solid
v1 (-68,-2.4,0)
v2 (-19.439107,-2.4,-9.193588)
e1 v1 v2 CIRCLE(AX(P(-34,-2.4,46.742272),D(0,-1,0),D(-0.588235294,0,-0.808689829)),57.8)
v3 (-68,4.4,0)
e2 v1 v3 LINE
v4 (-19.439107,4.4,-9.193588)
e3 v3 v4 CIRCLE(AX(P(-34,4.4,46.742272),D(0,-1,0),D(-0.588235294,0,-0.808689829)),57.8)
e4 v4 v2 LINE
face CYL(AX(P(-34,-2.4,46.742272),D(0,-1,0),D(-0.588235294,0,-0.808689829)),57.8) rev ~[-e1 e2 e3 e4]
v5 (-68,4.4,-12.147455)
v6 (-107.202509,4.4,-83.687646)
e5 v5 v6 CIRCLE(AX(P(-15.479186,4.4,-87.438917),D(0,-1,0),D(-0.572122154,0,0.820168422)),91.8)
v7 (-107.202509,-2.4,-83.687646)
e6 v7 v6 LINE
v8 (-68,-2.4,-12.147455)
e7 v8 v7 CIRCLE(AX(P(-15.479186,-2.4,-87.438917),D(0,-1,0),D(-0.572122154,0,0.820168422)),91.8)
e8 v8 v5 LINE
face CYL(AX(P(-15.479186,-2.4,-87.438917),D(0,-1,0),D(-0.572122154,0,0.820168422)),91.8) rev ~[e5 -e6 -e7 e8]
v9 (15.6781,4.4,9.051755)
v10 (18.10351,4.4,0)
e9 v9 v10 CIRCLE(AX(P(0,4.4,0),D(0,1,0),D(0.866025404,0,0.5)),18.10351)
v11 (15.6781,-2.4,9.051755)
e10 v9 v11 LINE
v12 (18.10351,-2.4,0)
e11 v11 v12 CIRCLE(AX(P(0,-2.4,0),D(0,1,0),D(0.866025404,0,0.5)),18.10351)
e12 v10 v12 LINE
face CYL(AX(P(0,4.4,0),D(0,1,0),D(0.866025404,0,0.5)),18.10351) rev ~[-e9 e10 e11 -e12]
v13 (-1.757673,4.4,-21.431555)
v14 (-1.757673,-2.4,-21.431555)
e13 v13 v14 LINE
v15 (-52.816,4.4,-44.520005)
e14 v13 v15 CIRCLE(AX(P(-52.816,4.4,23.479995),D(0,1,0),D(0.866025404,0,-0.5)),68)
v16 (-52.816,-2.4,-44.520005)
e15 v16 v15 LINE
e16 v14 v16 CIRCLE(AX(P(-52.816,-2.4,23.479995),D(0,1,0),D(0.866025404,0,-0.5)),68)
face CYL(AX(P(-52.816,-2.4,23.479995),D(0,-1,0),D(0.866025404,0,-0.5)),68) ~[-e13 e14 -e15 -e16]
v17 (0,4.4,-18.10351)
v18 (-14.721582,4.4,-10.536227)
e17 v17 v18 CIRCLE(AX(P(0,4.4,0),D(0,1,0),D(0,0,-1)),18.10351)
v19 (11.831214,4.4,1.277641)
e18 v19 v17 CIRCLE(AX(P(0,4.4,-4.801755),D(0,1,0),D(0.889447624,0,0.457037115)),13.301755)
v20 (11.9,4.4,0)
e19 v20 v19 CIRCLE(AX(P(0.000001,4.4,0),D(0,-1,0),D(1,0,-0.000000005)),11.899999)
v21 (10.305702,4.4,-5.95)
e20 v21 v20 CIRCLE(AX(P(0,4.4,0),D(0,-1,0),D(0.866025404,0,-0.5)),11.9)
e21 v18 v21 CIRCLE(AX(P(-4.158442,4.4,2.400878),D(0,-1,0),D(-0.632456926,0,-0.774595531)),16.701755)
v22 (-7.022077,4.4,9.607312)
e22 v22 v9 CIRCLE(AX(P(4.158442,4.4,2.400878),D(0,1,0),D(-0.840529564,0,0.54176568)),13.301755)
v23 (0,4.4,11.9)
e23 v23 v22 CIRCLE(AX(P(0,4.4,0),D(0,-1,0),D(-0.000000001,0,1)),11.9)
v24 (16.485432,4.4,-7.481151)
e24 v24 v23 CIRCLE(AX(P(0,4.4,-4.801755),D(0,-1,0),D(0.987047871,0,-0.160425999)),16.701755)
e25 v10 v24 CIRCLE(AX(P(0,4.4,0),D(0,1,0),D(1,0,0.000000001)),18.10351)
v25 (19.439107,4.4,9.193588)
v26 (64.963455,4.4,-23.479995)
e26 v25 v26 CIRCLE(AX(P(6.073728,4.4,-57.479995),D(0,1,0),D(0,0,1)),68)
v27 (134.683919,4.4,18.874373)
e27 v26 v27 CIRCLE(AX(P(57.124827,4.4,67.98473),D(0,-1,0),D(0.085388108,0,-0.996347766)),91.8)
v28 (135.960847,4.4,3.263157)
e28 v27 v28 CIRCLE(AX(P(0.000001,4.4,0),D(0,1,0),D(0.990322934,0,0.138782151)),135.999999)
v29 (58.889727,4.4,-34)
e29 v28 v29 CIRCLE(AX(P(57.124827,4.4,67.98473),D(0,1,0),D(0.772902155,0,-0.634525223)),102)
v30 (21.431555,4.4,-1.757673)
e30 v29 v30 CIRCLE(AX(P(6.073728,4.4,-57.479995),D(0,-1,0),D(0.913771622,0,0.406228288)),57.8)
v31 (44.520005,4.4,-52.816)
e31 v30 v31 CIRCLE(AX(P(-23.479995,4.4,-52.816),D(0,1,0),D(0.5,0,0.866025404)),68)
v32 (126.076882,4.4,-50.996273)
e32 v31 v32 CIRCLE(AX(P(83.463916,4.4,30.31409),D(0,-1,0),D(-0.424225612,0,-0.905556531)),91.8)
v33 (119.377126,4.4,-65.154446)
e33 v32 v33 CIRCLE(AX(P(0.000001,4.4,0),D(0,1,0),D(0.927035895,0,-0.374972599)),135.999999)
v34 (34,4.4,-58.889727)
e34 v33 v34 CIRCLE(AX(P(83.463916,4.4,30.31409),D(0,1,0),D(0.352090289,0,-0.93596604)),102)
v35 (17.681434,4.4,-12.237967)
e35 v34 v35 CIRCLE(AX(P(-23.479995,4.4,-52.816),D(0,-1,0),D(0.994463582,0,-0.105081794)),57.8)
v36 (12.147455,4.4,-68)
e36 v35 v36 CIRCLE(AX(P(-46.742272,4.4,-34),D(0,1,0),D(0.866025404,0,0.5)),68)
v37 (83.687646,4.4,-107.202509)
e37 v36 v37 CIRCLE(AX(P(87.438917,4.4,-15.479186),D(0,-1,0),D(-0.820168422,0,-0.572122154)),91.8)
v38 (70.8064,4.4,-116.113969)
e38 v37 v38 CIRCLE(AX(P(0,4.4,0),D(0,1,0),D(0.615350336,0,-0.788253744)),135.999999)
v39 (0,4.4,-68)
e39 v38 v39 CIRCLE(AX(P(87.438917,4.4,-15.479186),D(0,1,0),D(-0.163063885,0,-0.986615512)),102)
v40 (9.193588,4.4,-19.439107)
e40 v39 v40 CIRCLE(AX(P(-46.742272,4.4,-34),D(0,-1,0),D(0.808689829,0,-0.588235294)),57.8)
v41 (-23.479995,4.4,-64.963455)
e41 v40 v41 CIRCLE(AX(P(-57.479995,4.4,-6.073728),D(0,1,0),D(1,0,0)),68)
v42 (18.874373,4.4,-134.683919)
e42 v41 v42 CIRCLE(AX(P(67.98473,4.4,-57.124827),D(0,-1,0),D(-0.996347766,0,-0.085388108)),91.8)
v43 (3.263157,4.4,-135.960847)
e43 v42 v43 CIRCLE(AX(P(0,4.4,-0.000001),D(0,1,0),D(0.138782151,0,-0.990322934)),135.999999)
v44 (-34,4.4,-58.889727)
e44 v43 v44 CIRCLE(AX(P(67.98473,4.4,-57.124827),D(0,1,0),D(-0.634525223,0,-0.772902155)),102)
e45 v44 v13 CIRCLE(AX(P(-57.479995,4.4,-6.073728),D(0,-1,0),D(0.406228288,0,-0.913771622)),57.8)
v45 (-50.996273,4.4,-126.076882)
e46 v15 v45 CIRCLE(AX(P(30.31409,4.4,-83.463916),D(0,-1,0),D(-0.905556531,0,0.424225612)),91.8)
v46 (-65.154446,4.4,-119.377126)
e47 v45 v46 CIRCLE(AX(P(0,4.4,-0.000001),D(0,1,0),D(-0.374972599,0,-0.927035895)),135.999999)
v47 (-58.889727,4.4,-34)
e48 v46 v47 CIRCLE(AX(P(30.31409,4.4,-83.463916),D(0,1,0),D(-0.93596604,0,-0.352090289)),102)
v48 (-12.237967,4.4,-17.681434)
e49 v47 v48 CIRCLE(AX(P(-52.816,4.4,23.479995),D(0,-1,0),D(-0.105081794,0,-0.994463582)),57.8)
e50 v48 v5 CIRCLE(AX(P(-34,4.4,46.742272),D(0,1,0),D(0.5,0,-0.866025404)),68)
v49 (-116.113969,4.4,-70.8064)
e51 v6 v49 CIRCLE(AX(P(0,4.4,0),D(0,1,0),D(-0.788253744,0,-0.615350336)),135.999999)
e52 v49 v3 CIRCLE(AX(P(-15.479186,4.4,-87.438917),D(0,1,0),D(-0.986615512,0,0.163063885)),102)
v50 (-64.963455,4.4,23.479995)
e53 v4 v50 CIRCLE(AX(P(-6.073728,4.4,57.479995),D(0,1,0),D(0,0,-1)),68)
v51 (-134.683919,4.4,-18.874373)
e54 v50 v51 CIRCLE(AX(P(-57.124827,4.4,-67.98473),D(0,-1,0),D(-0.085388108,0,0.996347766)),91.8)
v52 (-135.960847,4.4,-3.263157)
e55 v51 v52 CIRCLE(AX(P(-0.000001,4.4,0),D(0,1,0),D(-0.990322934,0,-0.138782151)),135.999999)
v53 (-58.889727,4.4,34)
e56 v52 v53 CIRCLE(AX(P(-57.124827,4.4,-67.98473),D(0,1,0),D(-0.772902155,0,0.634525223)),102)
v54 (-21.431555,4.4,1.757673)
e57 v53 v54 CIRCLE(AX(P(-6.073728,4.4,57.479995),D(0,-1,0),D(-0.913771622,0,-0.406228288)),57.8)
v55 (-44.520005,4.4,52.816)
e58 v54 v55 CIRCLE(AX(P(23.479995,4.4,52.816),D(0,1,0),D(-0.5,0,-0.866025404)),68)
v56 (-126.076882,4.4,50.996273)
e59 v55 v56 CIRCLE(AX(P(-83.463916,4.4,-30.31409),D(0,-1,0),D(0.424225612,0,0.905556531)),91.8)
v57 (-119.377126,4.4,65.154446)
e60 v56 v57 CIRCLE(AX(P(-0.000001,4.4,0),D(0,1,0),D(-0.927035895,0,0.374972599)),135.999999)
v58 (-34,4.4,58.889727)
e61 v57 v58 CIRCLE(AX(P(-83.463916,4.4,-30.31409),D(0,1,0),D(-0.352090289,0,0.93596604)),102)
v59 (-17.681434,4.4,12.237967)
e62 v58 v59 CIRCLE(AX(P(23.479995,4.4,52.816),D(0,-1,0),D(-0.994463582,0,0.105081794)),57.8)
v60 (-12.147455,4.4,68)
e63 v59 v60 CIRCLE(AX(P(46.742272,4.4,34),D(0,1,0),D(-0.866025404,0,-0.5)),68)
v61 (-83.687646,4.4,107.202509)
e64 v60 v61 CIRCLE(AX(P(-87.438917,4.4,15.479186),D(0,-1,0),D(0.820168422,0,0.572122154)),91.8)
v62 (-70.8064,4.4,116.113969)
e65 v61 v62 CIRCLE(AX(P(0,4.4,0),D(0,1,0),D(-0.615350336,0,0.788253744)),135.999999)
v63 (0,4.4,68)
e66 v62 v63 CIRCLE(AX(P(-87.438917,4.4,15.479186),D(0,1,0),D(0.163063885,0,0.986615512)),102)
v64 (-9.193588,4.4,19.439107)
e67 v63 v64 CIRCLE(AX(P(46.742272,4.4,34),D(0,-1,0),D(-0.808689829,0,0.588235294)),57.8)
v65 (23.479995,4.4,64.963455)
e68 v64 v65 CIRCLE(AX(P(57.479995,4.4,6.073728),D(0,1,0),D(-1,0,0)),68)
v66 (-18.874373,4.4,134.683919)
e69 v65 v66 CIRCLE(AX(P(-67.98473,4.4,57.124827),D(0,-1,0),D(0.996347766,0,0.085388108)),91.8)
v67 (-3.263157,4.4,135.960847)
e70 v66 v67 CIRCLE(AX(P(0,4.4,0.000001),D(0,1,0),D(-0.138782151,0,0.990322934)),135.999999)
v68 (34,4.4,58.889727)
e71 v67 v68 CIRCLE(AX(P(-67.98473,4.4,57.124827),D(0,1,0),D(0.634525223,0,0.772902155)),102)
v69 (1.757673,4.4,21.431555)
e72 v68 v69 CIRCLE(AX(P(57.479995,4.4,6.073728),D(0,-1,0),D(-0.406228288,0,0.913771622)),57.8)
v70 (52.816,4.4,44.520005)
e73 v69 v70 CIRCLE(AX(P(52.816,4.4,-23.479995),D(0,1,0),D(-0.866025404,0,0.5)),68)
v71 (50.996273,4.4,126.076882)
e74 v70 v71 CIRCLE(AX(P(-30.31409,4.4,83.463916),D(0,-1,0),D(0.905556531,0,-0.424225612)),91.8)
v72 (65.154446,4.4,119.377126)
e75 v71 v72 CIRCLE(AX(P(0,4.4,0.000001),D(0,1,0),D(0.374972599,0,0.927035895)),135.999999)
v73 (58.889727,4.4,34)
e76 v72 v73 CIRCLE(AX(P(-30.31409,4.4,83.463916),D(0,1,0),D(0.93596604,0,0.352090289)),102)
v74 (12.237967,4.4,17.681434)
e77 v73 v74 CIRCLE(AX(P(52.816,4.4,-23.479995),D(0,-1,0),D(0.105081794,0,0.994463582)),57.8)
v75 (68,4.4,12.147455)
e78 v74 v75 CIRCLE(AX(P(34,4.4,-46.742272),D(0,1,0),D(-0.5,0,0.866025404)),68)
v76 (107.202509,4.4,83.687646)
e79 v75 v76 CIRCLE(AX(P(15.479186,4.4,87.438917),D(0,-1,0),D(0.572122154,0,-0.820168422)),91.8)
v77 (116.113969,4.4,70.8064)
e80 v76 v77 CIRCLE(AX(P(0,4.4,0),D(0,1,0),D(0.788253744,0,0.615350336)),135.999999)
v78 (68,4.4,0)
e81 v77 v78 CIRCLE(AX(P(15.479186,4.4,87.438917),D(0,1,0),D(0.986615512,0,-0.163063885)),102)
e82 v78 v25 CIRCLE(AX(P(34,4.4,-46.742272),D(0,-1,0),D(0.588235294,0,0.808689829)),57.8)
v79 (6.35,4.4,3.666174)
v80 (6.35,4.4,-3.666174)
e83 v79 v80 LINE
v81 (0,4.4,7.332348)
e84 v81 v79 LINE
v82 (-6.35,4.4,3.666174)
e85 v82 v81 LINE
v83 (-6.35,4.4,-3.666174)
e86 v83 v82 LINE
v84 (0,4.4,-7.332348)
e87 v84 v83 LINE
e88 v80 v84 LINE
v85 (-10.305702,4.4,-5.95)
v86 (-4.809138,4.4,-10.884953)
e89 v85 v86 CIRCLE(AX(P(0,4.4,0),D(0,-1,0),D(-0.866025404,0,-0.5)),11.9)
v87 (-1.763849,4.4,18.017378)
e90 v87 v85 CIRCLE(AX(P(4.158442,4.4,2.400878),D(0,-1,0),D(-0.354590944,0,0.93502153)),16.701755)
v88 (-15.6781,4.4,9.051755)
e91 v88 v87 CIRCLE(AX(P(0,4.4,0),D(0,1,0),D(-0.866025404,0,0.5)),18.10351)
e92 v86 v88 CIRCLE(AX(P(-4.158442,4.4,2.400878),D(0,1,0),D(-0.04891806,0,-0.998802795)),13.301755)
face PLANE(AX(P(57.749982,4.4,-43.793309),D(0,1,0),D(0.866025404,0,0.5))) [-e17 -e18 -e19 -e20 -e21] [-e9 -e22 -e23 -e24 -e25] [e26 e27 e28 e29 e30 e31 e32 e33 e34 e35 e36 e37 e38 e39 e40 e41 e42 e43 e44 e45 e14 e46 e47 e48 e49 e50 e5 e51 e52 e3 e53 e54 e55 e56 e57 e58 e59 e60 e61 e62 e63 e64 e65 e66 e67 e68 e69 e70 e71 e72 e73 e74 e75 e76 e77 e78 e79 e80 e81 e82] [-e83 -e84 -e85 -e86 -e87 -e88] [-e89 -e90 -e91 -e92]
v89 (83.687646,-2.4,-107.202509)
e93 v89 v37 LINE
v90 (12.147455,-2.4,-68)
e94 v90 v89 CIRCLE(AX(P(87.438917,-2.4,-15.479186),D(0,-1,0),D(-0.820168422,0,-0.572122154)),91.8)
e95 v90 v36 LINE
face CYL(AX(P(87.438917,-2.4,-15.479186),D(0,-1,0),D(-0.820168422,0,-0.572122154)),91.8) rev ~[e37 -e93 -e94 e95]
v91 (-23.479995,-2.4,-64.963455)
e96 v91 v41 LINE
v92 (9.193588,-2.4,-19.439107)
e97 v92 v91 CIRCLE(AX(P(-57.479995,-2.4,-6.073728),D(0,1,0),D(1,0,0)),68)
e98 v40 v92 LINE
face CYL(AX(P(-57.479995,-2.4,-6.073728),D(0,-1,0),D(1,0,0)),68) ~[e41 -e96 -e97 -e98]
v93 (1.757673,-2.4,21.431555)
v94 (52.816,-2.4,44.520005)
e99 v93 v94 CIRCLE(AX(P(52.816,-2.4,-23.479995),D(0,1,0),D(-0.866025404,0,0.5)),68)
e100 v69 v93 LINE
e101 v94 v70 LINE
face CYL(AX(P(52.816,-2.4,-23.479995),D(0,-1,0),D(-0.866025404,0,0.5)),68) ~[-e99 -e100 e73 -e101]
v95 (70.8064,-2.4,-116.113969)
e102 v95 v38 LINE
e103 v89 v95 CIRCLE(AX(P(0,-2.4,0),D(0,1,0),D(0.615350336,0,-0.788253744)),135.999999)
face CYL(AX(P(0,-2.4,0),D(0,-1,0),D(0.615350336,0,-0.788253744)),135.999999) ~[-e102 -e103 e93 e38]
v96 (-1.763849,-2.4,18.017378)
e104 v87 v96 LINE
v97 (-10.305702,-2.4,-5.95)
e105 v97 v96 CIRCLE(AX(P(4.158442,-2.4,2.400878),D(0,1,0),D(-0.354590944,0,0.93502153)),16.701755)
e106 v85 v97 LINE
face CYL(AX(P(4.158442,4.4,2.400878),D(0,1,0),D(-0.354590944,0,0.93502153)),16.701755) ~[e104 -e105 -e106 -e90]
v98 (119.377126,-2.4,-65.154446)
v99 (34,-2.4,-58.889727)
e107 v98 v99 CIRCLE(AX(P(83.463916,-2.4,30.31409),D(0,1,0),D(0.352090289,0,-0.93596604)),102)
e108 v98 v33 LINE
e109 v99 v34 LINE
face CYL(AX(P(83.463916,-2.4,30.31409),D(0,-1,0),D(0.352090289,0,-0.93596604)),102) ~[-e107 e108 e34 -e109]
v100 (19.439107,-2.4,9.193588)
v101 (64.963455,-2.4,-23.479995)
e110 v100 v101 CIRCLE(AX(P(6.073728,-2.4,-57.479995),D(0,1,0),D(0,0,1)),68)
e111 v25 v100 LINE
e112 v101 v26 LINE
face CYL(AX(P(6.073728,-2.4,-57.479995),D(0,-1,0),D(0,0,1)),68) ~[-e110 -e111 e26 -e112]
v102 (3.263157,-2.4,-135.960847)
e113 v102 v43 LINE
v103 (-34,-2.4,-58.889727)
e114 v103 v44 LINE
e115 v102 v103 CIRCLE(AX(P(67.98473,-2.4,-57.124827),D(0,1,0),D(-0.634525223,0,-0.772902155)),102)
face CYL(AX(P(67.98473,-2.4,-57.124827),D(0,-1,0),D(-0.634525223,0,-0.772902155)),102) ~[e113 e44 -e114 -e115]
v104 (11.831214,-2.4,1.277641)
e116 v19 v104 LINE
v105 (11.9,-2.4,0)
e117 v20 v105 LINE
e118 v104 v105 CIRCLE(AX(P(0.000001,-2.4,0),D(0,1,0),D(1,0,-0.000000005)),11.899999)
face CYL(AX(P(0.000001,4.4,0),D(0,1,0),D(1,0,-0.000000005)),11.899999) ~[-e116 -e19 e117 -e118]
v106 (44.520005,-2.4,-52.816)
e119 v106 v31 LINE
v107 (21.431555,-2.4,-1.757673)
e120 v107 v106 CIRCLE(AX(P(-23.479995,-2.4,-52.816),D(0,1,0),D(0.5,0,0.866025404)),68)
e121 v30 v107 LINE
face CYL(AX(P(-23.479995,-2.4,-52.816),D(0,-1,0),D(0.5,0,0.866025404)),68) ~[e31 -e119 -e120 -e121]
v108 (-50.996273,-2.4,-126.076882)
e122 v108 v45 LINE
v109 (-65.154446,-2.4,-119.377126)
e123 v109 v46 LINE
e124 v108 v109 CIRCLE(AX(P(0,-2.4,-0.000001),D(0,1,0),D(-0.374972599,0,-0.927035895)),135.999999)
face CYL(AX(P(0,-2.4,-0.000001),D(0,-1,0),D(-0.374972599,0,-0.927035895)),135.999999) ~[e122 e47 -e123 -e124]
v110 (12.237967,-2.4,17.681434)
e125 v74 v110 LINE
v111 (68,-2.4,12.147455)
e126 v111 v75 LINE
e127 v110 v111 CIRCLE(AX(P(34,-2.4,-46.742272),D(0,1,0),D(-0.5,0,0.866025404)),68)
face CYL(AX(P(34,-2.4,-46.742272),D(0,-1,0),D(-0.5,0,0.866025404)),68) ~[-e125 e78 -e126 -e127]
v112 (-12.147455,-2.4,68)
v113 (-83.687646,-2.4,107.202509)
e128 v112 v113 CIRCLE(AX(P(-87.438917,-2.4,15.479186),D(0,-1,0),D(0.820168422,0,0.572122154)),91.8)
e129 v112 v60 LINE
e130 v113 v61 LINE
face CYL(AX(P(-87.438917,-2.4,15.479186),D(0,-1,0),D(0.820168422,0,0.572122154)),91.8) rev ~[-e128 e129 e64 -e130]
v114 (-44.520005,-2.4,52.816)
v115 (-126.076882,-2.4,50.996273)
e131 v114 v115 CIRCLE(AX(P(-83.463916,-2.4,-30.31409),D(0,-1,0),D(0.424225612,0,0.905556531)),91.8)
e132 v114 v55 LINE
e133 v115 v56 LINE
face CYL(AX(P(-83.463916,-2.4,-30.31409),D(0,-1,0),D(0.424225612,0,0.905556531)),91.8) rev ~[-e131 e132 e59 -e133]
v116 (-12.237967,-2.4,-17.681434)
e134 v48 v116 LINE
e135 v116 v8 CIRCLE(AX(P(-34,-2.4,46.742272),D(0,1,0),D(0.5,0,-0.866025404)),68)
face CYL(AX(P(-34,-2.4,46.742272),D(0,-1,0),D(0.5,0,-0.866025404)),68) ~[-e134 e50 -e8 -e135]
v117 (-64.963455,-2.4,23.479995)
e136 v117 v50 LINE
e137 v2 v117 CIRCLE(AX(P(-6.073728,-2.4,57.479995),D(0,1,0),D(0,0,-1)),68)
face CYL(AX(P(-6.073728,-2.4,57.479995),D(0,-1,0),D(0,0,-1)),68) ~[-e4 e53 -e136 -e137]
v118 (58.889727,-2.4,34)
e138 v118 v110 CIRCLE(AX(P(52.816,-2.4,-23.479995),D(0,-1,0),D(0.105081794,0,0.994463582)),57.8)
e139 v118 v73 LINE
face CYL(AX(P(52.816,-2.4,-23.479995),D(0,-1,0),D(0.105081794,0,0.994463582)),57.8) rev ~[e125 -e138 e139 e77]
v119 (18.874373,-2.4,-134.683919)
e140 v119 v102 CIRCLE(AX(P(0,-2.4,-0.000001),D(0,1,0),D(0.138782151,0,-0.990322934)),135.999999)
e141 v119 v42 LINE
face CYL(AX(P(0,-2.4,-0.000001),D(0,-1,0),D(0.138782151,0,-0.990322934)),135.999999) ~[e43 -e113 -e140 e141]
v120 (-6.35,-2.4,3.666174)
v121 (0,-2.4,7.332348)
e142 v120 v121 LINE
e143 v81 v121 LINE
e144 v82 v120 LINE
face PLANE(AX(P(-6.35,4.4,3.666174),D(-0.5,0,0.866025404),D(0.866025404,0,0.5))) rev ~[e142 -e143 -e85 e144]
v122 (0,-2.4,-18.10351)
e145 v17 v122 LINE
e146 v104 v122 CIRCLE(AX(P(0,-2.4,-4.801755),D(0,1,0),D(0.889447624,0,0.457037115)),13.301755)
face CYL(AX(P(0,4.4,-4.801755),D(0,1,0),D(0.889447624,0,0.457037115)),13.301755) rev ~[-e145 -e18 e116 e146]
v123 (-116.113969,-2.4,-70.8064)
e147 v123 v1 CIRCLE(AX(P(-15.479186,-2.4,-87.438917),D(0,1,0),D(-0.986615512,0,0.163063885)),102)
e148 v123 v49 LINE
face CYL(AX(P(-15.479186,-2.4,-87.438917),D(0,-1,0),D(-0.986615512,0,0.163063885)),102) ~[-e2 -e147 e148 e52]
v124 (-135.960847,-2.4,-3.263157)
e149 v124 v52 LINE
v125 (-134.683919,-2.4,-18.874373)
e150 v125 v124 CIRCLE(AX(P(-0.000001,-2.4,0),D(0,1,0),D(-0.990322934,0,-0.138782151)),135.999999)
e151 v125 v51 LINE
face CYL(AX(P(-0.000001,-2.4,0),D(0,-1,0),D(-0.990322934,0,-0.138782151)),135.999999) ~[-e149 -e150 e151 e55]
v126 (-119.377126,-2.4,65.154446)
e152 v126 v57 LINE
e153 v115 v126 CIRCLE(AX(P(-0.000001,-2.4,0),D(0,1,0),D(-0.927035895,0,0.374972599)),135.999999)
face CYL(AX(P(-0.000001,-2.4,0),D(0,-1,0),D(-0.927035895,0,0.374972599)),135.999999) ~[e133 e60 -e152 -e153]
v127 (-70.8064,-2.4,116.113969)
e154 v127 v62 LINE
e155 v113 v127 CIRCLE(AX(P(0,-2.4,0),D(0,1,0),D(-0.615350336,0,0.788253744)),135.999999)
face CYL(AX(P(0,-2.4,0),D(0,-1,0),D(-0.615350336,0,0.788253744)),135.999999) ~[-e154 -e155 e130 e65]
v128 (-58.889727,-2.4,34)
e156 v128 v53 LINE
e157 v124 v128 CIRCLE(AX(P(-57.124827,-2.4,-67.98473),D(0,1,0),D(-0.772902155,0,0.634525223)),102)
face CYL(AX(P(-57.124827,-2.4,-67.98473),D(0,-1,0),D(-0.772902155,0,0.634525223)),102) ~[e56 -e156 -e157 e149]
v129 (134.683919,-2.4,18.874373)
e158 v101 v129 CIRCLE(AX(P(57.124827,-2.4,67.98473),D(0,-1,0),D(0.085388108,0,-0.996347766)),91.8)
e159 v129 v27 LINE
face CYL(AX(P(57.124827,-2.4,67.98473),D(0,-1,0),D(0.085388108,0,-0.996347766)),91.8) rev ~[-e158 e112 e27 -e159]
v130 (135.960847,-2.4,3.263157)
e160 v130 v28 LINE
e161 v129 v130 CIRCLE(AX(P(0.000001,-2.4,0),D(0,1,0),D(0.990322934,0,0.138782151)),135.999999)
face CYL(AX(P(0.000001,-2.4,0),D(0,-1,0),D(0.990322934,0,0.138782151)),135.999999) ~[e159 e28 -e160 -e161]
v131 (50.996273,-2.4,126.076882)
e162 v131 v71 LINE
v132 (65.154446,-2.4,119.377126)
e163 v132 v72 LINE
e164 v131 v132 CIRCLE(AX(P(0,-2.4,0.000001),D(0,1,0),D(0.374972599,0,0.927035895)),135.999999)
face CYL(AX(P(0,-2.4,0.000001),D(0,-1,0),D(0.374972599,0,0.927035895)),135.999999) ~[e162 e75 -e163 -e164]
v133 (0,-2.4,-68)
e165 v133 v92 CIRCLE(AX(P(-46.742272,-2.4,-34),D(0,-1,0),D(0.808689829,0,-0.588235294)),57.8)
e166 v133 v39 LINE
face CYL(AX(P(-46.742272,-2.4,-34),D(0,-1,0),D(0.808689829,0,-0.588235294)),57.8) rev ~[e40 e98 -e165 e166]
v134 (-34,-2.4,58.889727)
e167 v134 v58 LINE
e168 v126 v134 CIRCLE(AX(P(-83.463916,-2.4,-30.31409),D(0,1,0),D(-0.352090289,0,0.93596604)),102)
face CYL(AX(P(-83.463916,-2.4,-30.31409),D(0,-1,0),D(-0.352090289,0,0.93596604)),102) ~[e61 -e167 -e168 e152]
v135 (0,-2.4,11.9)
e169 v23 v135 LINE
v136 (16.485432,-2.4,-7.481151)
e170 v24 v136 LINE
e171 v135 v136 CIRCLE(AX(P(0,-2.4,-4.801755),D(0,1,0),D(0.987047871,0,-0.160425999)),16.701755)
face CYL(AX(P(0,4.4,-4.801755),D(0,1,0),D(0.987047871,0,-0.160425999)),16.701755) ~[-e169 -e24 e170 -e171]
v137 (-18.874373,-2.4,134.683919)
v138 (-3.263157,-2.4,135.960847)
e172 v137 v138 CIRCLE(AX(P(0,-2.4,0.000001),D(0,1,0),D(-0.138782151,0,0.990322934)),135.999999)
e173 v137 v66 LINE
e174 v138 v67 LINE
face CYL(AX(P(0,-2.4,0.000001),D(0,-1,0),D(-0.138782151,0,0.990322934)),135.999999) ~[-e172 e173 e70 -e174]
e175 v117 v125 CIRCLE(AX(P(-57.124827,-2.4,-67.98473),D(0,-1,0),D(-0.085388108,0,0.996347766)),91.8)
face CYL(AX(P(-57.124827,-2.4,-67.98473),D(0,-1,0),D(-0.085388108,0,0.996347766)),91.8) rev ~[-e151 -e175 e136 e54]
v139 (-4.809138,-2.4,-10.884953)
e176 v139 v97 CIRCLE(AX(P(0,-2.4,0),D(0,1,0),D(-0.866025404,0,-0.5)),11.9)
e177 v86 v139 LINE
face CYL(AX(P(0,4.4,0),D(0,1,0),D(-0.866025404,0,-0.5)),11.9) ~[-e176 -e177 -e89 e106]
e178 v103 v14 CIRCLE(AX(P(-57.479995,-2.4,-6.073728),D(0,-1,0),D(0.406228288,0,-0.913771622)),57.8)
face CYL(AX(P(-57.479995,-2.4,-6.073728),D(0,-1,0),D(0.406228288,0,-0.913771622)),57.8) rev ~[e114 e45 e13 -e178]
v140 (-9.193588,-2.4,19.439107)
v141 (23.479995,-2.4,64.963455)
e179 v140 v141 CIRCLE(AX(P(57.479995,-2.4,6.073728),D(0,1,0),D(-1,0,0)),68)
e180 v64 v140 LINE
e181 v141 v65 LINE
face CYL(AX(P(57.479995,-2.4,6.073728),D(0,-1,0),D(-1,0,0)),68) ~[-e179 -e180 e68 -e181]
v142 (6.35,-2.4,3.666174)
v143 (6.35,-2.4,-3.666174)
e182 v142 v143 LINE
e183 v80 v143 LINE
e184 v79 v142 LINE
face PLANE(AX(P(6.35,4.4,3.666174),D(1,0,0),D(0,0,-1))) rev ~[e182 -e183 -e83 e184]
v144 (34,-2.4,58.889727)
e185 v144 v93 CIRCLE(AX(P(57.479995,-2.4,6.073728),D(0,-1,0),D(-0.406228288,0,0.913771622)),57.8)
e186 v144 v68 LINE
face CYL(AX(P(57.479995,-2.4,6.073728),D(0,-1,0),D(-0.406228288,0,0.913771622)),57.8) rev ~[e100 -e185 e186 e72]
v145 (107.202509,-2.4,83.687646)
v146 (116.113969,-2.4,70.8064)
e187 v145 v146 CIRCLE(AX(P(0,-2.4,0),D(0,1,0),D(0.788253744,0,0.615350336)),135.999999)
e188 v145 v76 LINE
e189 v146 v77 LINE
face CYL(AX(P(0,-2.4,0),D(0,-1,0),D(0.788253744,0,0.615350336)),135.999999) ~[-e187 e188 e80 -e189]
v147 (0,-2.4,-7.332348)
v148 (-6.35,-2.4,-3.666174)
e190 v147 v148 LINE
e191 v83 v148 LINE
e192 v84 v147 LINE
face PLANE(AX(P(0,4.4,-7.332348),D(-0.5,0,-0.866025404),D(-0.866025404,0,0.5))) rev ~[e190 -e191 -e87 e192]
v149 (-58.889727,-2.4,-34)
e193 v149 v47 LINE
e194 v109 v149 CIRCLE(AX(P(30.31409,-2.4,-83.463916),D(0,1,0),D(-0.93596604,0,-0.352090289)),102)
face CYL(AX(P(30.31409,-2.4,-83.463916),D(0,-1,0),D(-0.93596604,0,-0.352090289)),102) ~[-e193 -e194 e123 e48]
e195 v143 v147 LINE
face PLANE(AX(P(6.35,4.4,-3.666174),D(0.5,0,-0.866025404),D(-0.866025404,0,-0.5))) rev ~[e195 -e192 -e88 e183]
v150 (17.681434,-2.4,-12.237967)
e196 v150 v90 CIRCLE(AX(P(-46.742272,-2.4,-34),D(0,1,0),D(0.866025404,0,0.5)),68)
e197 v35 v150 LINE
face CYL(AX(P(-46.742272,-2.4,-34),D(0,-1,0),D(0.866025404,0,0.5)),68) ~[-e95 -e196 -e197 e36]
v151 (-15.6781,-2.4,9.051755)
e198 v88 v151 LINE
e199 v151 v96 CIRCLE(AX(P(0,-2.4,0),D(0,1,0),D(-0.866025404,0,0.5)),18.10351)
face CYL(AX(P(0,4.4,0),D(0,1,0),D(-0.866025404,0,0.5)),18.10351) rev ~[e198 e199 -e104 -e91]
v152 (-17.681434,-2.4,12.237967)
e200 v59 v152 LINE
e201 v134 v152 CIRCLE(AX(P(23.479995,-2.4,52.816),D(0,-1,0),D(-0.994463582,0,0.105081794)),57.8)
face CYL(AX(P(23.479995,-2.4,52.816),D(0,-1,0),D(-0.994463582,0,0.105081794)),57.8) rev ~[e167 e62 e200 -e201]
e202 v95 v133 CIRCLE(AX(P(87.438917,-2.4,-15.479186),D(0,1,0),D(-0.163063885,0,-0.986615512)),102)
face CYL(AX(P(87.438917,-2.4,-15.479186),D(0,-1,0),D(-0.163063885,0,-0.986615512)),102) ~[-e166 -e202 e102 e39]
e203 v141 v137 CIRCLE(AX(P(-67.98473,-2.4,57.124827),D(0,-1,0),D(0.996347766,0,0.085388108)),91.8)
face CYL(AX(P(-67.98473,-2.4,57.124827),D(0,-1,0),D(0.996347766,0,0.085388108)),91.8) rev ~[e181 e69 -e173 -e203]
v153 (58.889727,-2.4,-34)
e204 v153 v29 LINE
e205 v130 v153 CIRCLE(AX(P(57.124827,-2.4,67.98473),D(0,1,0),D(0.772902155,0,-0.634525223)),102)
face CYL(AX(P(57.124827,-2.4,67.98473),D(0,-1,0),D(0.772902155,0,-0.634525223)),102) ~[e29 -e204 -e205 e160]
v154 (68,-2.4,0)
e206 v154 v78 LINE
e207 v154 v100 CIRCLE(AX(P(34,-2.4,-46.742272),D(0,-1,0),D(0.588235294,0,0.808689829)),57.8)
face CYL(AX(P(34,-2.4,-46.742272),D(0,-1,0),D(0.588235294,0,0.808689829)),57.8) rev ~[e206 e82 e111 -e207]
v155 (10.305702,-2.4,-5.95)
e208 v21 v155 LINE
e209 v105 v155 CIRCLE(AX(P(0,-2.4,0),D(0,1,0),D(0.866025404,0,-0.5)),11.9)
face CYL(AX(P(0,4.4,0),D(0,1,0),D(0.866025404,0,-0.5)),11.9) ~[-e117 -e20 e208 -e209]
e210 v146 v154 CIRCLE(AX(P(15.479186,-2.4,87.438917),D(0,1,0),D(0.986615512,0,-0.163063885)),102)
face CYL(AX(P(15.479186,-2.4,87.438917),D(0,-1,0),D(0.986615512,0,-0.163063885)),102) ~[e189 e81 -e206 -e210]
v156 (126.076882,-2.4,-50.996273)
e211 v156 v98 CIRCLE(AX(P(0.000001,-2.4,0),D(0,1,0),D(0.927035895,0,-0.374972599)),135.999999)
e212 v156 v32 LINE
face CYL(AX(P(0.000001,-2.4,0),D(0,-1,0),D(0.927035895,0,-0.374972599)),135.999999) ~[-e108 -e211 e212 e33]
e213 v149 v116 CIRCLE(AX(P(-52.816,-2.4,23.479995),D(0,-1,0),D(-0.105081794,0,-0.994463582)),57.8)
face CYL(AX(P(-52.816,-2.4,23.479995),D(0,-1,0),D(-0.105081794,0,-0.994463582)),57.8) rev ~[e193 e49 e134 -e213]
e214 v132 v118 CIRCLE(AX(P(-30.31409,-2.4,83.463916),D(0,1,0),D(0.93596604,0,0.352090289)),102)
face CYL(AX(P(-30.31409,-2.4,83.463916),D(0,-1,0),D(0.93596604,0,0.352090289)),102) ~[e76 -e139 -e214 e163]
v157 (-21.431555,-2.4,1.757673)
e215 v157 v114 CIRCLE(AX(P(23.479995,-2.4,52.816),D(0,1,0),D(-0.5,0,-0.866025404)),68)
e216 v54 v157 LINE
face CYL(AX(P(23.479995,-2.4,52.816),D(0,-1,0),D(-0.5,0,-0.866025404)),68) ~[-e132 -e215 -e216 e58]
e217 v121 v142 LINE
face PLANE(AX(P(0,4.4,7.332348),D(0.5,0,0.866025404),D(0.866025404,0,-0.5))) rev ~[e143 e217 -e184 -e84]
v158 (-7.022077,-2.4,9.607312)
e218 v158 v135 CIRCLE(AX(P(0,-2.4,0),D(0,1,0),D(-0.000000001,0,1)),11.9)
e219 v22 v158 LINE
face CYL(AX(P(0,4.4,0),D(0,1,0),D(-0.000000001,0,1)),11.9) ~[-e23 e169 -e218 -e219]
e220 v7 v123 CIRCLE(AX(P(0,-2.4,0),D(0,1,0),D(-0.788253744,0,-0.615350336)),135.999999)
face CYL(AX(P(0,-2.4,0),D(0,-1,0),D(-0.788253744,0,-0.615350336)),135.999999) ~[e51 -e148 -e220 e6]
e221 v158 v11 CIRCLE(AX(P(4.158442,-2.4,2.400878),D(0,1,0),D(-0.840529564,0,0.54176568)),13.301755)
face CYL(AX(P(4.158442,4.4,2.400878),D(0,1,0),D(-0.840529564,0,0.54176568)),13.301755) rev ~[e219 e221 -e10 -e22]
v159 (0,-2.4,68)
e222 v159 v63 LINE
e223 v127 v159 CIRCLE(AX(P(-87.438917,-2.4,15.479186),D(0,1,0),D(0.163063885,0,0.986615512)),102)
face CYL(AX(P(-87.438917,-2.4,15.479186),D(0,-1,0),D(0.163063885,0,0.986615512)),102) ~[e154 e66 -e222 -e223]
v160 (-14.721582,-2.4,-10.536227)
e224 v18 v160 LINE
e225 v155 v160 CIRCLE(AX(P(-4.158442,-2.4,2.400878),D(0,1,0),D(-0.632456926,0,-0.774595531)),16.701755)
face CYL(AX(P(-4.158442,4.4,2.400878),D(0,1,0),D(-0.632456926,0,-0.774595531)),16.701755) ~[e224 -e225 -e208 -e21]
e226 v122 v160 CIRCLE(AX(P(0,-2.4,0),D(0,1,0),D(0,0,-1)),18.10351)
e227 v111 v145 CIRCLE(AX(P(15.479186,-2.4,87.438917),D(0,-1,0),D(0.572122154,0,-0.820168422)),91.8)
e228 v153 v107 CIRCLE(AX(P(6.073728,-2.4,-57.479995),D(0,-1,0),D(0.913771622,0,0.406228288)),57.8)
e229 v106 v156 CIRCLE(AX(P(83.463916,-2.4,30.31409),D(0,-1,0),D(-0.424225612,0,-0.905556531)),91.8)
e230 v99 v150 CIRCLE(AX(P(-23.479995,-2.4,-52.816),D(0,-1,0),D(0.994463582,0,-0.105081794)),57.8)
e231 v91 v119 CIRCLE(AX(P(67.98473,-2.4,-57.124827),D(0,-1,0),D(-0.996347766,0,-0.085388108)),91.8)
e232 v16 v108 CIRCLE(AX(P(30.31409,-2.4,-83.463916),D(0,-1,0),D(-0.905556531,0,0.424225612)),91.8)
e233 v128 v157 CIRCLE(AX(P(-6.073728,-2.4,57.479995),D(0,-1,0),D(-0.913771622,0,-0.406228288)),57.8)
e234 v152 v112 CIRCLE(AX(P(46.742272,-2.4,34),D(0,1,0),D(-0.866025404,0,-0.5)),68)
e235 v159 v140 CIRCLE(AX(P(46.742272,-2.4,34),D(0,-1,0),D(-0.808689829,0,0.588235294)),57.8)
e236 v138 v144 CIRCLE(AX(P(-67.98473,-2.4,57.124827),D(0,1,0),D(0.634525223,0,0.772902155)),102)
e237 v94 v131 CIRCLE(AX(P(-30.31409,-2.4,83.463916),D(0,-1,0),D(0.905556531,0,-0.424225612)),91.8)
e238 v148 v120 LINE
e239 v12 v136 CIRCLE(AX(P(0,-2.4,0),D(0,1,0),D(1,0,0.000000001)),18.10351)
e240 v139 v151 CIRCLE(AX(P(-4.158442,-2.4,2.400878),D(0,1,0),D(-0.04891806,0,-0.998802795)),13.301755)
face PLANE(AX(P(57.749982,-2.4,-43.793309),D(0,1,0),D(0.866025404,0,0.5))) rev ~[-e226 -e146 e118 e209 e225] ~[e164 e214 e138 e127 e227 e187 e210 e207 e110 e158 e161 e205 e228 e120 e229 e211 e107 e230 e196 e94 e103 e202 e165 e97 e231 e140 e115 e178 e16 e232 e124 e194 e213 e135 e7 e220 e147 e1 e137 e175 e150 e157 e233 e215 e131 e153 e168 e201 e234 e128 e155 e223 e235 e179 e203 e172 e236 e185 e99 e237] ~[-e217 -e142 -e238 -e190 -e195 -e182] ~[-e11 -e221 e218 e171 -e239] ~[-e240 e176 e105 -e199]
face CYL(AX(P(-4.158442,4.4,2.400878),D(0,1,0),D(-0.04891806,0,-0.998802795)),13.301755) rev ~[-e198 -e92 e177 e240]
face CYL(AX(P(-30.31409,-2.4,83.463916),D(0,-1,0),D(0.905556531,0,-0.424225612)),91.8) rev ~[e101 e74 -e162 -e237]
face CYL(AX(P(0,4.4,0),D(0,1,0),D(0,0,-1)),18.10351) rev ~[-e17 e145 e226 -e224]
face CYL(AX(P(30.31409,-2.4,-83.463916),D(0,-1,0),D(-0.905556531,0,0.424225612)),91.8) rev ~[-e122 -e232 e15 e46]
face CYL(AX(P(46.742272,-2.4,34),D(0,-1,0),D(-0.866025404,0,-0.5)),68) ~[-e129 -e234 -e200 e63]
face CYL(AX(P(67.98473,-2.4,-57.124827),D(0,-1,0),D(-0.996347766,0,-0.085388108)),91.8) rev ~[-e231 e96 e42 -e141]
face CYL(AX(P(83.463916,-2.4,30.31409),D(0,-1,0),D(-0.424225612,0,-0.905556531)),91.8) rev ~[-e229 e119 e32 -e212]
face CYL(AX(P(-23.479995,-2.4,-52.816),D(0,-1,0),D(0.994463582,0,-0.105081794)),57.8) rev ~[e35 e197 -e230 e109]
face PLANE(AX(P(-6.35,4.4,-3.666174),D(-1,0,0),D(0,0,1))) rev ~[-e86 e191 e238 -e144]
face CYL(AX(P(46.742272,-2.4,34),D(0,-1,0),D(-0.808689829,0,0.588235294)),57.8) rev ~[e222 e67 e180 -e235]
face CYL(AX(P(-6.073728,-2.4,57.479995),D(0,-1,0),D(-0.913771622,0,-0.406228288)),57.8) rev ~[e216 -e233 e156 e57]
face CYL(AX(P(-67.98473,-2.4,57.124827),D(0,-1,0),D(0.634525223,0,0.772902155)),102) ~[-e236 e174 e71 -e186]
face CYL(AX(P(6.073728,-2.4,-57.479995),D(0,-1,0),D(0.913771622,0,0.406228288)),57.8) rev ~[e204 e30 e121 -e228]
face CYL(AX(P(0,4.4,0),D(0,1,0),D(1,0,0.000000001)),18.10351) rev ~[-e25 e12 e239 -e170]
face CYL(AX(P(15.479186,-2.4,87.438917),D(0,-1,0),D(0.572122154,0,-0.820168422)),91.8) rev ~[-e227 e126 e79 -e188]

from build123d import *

# Parameters (mm, degrees)
BOSS_EXTRUDE1_DEPTH = 2
CIRPATTERN1_COUNT   = 12
SKETCH2_R           = 6.32456178
BOSS_EXTRUDE2_DEPTH = 2
CUT_EXTRUDE1_DEPTH  = 57.587611293
SCALE1_SCALE        = 3.4
CUT_EXTRUDE2_DEPTH  = 6.8


with BuildPart() as part:
    # Sketch1 → Boss-Extrude1 (new body)
    with BuildSketch(Plane(origin=(0, 0, 0), x_dir=(1, 0, 0), z_dir=(0, 1, 0))):
        with BuildLine():
            ThreePointArc((0, 20), (3.252272915, 10), (0, 0))
            Line((0, 0), (3.572780991, 0))
            ThreePointArc((3.572780991, 0), (6.252272915, 10), (3.572780991, 20))
            ThreePointArc((3.572780991, 20), (12.742280623, 28.230711371), (24.614013417, 31.530149754))
            ThreePointArc((24.614013417, 31.530149754), (22.757477342, 32.895246238), (20.825411836, 34.151167211))
            ThreePointArc((20.825411836, 34.151167211), (8.856268151, 29.366098374), (0, 20))
        make_face()
    extrude(amount=BOSS_EXTRUDE1_DEPTH)


with BuildPart() as cirpattern1_1:
    # CirPattern1: pattern copy
    add(part.part.rotate(Axis((0, 0, 0), (0, 1, 0)), 1 * 360 / CIRPATTERN1_COUNT))


with BuildPart() as cirpattern1_2:
    # CirPattern1: pattern copy
    add(part.part.rotate(Axis((0, 0, 0), (0, 1, 0)), 2 * 360 / CIRPATTERN1_COUNT))


with BuildPart() as cirpattern1_3:
    # CirPattern1: pattern copy
    add(part.part.rotate(Axis((0, 0, 0), (0, 1, 0)), 3 * 360 / CIRPATTERN1_COUNT))


with BuildPart() as cirpattern1_4:
    # CirPattern1: pattern copy
    add(part.part.rotate(Axis((0, 0, 0), (0, 1, 0)), 4 * 360 / CIRPATTERN1_COUNT))


with BuildPart() as cirpattern1_5:
    # CirPattern1: pattern copy
    add(part.part.rotate(Axis((0, 0, 0), (0, 1, 0)), 5 * 360 / CIRPATTERN1_COUNT))


with BuildPart() as cirpattern1_6:
    # CirPattern1: pattern copy
    add(part.part.rotate(Axis((0, 0, 0), (0, 1, 0)), 6 * 360 / CIRPATTERN1_COUNT))


with BuildPart() as cirpattern1_7:
    # CirPattern1: pattern copy
    add(part.part.rotate(Axis((0, 0, 0), (0, 1, 0)), 7 * 360 / CIRPATTERN1_COUNT))


with BuildPart() as cirpattern1_8:
    # CirPattern1: pattern copy
    add(part.part.rotate(Axis((0, 0, 0), (0, 1, 0)), 8 * 360 / CIRPATTERN1_COUNT))


with BuildPart() as cirpattern1_9:
    # CirPattern1: pattern copy
    add(part.part.rotate(Axis((0, 0, 0), (0, 1, 0)), 9 * 360 / CIRPATTERN1_COUNT))


with BuildPart() as cirpattern1_10:
    # CirPattern1: pattern copy
    add(part.part.rotate(Axis((0, 0, 0), (0, 1, 0)), 10 * 360 / CIRPATTERN1_COUNT))


with BuildPart() as cirpattern1_11:
    # CirPattern1: pattern copy
    add(part.part.rotate(Axis((0, 0, 0), (0, 1, 0)), 11 * 360 / CIRPATTERN1_COUNT))


with BuildPart() as part_1:
    add(part.part)

    add(cirpattern1_1.part)  # Boss-Extrude2 merges CirPattern1_1

    add(cirpattern1_2.part)  # Boss-Extrude2 merges CirPattern1_2

    add(cirpattern1_3.part)  # Boss-Extrude2 merges CirPattern1_3

    add(cirpattern1_4.part)  # Boss-Extrude2 merges CirPattern1_4

    add(cirpattern1_5.part)  # Boss-Extrude2 merges CirPattern1_5

    add(cirpattern1_6.part)  # Boss-Extrude2 merges CirPattern1_6

    add(cirpattern1_7.part)  # Boss-Extrude2 merges CirPattern1_7

    add(cirpattern1_8.part)  # Boss-Extrude2 merges CirPattern1_8

    add(cirpattern1_9.part)  # Boss-Extrude2 merges CirPattern1_9

    add(cirpattern1_10.part)  # Boss-Extrude2 merges CirPattern1_10

    add(cirpattern1_11.part)  # Boss-Extrude2 merges CirPattern1_11
    # Sketch2 → Boss-Extrude2 (add)
    with BuildSketch(Plane(origin=(0, 0, 0), x_dir=(1, 0, 0), z_dir=(0, 1, 0))):
        Circle(SKETCH2_R)
    extrude(amount=BOSS_EXTRUDE2_DEPTH)

    # Sketch3 → Cut-Extrude1 (cut, through all)
    with BuildSketch(Plane(origin=(0, 2, 0), x_dir=(1, 0, 0), z_dir=(0, 1, 0))):
        with BuildLine():
            ThreePointArc((-0.518779192, -5.29922884), (-3.404124769, -2.355249802), (-3.031088913, 1.75))
            ThreePointArc((-3.031088913, 1.75), (-2.338245241, 2.604344292), (-1.414452319, 3.201456643))
            ThreePointArc((-1.414452319, 3.201456643), (-4.658051165, 1.166519136), (-4.611205766, -2.66228089))
            ThreePointArc((-4.611205766, -2.66228089), (-2.884018037, -4.47586842), (-0.518779192, -5.29922884))
        make_face()
        with BuildLine():
            ThreePointArc((3.5, 0), (3.494938576, -0.188160443), (3.479768941, -0.375776681))
            ThreePointArc((3.479768941, -0.375776681), (3.339260789, 3.450731073), (0, 5.32456178))
            ThreePointArc((0, 5.32456178), (-2.434206737, 4.735567095), (-4.3298772, 3.098890379))
            ThreePointArc((-4.3298772, 3.098890379), (-0.337643776, 4.125683429), (3.031088913, 1.75))
            ThreePointArc((3.031088913, 1.75), (3.380740392, 0.905866658), (3.5, 0))
        make_face()
        with BuildLine():
            ThreePointArc((0, -3.5), (-1.086305696, -3.327151925), (-2.065316622, -2.825679962))
            ThreePointArc((-2.065316622, -2.825679962), (1.318790377, -4.617250209), (4.611205766, -2.66228089))
            ThreePointArc((4.611205766, -2.66228089), (5.143131737, -1.378097996), (5.32456178, 0))
            ThreePointArc((5.32456178, 0), (5.204225623, 1.1256082), (4.848656392, 2.200338461))
            ThreePointArc((4.848656392, 2.200338461), (3.741768545, -1.770433627), (0, -3.5))
        make_face()
    extrude(amount=-CUT_EXTRUDE1_DEPTH, mode=Mode.SUBTRACT)


with BuildPart() as part_2:
    # Scale1: scaled about (0, 1, 0)
    add(part_1.part.scale(SCALE1_SCALE).moved(Location((0, -2.4, 0))))

    # Sketch4 → Cut-Extrude2 (cut)
    with BuildSketch(Plane(origin=(0, 4.4, 0), x_dir=(1, 0, 0), z_dir=(0, 1, 0))):
        Polygon((0, 7.332348419), (-6.35, 3.666174209), (-6.35, -3.666174209), (0, -7.332348419), (6.35, -3.666174209), (6.35, 3.666174209), align=None)
    extrude(amount=-CUT_EXTRUDE2_DEPTH, mode=Mode.SUBTRACT)


solid = part_2.part
